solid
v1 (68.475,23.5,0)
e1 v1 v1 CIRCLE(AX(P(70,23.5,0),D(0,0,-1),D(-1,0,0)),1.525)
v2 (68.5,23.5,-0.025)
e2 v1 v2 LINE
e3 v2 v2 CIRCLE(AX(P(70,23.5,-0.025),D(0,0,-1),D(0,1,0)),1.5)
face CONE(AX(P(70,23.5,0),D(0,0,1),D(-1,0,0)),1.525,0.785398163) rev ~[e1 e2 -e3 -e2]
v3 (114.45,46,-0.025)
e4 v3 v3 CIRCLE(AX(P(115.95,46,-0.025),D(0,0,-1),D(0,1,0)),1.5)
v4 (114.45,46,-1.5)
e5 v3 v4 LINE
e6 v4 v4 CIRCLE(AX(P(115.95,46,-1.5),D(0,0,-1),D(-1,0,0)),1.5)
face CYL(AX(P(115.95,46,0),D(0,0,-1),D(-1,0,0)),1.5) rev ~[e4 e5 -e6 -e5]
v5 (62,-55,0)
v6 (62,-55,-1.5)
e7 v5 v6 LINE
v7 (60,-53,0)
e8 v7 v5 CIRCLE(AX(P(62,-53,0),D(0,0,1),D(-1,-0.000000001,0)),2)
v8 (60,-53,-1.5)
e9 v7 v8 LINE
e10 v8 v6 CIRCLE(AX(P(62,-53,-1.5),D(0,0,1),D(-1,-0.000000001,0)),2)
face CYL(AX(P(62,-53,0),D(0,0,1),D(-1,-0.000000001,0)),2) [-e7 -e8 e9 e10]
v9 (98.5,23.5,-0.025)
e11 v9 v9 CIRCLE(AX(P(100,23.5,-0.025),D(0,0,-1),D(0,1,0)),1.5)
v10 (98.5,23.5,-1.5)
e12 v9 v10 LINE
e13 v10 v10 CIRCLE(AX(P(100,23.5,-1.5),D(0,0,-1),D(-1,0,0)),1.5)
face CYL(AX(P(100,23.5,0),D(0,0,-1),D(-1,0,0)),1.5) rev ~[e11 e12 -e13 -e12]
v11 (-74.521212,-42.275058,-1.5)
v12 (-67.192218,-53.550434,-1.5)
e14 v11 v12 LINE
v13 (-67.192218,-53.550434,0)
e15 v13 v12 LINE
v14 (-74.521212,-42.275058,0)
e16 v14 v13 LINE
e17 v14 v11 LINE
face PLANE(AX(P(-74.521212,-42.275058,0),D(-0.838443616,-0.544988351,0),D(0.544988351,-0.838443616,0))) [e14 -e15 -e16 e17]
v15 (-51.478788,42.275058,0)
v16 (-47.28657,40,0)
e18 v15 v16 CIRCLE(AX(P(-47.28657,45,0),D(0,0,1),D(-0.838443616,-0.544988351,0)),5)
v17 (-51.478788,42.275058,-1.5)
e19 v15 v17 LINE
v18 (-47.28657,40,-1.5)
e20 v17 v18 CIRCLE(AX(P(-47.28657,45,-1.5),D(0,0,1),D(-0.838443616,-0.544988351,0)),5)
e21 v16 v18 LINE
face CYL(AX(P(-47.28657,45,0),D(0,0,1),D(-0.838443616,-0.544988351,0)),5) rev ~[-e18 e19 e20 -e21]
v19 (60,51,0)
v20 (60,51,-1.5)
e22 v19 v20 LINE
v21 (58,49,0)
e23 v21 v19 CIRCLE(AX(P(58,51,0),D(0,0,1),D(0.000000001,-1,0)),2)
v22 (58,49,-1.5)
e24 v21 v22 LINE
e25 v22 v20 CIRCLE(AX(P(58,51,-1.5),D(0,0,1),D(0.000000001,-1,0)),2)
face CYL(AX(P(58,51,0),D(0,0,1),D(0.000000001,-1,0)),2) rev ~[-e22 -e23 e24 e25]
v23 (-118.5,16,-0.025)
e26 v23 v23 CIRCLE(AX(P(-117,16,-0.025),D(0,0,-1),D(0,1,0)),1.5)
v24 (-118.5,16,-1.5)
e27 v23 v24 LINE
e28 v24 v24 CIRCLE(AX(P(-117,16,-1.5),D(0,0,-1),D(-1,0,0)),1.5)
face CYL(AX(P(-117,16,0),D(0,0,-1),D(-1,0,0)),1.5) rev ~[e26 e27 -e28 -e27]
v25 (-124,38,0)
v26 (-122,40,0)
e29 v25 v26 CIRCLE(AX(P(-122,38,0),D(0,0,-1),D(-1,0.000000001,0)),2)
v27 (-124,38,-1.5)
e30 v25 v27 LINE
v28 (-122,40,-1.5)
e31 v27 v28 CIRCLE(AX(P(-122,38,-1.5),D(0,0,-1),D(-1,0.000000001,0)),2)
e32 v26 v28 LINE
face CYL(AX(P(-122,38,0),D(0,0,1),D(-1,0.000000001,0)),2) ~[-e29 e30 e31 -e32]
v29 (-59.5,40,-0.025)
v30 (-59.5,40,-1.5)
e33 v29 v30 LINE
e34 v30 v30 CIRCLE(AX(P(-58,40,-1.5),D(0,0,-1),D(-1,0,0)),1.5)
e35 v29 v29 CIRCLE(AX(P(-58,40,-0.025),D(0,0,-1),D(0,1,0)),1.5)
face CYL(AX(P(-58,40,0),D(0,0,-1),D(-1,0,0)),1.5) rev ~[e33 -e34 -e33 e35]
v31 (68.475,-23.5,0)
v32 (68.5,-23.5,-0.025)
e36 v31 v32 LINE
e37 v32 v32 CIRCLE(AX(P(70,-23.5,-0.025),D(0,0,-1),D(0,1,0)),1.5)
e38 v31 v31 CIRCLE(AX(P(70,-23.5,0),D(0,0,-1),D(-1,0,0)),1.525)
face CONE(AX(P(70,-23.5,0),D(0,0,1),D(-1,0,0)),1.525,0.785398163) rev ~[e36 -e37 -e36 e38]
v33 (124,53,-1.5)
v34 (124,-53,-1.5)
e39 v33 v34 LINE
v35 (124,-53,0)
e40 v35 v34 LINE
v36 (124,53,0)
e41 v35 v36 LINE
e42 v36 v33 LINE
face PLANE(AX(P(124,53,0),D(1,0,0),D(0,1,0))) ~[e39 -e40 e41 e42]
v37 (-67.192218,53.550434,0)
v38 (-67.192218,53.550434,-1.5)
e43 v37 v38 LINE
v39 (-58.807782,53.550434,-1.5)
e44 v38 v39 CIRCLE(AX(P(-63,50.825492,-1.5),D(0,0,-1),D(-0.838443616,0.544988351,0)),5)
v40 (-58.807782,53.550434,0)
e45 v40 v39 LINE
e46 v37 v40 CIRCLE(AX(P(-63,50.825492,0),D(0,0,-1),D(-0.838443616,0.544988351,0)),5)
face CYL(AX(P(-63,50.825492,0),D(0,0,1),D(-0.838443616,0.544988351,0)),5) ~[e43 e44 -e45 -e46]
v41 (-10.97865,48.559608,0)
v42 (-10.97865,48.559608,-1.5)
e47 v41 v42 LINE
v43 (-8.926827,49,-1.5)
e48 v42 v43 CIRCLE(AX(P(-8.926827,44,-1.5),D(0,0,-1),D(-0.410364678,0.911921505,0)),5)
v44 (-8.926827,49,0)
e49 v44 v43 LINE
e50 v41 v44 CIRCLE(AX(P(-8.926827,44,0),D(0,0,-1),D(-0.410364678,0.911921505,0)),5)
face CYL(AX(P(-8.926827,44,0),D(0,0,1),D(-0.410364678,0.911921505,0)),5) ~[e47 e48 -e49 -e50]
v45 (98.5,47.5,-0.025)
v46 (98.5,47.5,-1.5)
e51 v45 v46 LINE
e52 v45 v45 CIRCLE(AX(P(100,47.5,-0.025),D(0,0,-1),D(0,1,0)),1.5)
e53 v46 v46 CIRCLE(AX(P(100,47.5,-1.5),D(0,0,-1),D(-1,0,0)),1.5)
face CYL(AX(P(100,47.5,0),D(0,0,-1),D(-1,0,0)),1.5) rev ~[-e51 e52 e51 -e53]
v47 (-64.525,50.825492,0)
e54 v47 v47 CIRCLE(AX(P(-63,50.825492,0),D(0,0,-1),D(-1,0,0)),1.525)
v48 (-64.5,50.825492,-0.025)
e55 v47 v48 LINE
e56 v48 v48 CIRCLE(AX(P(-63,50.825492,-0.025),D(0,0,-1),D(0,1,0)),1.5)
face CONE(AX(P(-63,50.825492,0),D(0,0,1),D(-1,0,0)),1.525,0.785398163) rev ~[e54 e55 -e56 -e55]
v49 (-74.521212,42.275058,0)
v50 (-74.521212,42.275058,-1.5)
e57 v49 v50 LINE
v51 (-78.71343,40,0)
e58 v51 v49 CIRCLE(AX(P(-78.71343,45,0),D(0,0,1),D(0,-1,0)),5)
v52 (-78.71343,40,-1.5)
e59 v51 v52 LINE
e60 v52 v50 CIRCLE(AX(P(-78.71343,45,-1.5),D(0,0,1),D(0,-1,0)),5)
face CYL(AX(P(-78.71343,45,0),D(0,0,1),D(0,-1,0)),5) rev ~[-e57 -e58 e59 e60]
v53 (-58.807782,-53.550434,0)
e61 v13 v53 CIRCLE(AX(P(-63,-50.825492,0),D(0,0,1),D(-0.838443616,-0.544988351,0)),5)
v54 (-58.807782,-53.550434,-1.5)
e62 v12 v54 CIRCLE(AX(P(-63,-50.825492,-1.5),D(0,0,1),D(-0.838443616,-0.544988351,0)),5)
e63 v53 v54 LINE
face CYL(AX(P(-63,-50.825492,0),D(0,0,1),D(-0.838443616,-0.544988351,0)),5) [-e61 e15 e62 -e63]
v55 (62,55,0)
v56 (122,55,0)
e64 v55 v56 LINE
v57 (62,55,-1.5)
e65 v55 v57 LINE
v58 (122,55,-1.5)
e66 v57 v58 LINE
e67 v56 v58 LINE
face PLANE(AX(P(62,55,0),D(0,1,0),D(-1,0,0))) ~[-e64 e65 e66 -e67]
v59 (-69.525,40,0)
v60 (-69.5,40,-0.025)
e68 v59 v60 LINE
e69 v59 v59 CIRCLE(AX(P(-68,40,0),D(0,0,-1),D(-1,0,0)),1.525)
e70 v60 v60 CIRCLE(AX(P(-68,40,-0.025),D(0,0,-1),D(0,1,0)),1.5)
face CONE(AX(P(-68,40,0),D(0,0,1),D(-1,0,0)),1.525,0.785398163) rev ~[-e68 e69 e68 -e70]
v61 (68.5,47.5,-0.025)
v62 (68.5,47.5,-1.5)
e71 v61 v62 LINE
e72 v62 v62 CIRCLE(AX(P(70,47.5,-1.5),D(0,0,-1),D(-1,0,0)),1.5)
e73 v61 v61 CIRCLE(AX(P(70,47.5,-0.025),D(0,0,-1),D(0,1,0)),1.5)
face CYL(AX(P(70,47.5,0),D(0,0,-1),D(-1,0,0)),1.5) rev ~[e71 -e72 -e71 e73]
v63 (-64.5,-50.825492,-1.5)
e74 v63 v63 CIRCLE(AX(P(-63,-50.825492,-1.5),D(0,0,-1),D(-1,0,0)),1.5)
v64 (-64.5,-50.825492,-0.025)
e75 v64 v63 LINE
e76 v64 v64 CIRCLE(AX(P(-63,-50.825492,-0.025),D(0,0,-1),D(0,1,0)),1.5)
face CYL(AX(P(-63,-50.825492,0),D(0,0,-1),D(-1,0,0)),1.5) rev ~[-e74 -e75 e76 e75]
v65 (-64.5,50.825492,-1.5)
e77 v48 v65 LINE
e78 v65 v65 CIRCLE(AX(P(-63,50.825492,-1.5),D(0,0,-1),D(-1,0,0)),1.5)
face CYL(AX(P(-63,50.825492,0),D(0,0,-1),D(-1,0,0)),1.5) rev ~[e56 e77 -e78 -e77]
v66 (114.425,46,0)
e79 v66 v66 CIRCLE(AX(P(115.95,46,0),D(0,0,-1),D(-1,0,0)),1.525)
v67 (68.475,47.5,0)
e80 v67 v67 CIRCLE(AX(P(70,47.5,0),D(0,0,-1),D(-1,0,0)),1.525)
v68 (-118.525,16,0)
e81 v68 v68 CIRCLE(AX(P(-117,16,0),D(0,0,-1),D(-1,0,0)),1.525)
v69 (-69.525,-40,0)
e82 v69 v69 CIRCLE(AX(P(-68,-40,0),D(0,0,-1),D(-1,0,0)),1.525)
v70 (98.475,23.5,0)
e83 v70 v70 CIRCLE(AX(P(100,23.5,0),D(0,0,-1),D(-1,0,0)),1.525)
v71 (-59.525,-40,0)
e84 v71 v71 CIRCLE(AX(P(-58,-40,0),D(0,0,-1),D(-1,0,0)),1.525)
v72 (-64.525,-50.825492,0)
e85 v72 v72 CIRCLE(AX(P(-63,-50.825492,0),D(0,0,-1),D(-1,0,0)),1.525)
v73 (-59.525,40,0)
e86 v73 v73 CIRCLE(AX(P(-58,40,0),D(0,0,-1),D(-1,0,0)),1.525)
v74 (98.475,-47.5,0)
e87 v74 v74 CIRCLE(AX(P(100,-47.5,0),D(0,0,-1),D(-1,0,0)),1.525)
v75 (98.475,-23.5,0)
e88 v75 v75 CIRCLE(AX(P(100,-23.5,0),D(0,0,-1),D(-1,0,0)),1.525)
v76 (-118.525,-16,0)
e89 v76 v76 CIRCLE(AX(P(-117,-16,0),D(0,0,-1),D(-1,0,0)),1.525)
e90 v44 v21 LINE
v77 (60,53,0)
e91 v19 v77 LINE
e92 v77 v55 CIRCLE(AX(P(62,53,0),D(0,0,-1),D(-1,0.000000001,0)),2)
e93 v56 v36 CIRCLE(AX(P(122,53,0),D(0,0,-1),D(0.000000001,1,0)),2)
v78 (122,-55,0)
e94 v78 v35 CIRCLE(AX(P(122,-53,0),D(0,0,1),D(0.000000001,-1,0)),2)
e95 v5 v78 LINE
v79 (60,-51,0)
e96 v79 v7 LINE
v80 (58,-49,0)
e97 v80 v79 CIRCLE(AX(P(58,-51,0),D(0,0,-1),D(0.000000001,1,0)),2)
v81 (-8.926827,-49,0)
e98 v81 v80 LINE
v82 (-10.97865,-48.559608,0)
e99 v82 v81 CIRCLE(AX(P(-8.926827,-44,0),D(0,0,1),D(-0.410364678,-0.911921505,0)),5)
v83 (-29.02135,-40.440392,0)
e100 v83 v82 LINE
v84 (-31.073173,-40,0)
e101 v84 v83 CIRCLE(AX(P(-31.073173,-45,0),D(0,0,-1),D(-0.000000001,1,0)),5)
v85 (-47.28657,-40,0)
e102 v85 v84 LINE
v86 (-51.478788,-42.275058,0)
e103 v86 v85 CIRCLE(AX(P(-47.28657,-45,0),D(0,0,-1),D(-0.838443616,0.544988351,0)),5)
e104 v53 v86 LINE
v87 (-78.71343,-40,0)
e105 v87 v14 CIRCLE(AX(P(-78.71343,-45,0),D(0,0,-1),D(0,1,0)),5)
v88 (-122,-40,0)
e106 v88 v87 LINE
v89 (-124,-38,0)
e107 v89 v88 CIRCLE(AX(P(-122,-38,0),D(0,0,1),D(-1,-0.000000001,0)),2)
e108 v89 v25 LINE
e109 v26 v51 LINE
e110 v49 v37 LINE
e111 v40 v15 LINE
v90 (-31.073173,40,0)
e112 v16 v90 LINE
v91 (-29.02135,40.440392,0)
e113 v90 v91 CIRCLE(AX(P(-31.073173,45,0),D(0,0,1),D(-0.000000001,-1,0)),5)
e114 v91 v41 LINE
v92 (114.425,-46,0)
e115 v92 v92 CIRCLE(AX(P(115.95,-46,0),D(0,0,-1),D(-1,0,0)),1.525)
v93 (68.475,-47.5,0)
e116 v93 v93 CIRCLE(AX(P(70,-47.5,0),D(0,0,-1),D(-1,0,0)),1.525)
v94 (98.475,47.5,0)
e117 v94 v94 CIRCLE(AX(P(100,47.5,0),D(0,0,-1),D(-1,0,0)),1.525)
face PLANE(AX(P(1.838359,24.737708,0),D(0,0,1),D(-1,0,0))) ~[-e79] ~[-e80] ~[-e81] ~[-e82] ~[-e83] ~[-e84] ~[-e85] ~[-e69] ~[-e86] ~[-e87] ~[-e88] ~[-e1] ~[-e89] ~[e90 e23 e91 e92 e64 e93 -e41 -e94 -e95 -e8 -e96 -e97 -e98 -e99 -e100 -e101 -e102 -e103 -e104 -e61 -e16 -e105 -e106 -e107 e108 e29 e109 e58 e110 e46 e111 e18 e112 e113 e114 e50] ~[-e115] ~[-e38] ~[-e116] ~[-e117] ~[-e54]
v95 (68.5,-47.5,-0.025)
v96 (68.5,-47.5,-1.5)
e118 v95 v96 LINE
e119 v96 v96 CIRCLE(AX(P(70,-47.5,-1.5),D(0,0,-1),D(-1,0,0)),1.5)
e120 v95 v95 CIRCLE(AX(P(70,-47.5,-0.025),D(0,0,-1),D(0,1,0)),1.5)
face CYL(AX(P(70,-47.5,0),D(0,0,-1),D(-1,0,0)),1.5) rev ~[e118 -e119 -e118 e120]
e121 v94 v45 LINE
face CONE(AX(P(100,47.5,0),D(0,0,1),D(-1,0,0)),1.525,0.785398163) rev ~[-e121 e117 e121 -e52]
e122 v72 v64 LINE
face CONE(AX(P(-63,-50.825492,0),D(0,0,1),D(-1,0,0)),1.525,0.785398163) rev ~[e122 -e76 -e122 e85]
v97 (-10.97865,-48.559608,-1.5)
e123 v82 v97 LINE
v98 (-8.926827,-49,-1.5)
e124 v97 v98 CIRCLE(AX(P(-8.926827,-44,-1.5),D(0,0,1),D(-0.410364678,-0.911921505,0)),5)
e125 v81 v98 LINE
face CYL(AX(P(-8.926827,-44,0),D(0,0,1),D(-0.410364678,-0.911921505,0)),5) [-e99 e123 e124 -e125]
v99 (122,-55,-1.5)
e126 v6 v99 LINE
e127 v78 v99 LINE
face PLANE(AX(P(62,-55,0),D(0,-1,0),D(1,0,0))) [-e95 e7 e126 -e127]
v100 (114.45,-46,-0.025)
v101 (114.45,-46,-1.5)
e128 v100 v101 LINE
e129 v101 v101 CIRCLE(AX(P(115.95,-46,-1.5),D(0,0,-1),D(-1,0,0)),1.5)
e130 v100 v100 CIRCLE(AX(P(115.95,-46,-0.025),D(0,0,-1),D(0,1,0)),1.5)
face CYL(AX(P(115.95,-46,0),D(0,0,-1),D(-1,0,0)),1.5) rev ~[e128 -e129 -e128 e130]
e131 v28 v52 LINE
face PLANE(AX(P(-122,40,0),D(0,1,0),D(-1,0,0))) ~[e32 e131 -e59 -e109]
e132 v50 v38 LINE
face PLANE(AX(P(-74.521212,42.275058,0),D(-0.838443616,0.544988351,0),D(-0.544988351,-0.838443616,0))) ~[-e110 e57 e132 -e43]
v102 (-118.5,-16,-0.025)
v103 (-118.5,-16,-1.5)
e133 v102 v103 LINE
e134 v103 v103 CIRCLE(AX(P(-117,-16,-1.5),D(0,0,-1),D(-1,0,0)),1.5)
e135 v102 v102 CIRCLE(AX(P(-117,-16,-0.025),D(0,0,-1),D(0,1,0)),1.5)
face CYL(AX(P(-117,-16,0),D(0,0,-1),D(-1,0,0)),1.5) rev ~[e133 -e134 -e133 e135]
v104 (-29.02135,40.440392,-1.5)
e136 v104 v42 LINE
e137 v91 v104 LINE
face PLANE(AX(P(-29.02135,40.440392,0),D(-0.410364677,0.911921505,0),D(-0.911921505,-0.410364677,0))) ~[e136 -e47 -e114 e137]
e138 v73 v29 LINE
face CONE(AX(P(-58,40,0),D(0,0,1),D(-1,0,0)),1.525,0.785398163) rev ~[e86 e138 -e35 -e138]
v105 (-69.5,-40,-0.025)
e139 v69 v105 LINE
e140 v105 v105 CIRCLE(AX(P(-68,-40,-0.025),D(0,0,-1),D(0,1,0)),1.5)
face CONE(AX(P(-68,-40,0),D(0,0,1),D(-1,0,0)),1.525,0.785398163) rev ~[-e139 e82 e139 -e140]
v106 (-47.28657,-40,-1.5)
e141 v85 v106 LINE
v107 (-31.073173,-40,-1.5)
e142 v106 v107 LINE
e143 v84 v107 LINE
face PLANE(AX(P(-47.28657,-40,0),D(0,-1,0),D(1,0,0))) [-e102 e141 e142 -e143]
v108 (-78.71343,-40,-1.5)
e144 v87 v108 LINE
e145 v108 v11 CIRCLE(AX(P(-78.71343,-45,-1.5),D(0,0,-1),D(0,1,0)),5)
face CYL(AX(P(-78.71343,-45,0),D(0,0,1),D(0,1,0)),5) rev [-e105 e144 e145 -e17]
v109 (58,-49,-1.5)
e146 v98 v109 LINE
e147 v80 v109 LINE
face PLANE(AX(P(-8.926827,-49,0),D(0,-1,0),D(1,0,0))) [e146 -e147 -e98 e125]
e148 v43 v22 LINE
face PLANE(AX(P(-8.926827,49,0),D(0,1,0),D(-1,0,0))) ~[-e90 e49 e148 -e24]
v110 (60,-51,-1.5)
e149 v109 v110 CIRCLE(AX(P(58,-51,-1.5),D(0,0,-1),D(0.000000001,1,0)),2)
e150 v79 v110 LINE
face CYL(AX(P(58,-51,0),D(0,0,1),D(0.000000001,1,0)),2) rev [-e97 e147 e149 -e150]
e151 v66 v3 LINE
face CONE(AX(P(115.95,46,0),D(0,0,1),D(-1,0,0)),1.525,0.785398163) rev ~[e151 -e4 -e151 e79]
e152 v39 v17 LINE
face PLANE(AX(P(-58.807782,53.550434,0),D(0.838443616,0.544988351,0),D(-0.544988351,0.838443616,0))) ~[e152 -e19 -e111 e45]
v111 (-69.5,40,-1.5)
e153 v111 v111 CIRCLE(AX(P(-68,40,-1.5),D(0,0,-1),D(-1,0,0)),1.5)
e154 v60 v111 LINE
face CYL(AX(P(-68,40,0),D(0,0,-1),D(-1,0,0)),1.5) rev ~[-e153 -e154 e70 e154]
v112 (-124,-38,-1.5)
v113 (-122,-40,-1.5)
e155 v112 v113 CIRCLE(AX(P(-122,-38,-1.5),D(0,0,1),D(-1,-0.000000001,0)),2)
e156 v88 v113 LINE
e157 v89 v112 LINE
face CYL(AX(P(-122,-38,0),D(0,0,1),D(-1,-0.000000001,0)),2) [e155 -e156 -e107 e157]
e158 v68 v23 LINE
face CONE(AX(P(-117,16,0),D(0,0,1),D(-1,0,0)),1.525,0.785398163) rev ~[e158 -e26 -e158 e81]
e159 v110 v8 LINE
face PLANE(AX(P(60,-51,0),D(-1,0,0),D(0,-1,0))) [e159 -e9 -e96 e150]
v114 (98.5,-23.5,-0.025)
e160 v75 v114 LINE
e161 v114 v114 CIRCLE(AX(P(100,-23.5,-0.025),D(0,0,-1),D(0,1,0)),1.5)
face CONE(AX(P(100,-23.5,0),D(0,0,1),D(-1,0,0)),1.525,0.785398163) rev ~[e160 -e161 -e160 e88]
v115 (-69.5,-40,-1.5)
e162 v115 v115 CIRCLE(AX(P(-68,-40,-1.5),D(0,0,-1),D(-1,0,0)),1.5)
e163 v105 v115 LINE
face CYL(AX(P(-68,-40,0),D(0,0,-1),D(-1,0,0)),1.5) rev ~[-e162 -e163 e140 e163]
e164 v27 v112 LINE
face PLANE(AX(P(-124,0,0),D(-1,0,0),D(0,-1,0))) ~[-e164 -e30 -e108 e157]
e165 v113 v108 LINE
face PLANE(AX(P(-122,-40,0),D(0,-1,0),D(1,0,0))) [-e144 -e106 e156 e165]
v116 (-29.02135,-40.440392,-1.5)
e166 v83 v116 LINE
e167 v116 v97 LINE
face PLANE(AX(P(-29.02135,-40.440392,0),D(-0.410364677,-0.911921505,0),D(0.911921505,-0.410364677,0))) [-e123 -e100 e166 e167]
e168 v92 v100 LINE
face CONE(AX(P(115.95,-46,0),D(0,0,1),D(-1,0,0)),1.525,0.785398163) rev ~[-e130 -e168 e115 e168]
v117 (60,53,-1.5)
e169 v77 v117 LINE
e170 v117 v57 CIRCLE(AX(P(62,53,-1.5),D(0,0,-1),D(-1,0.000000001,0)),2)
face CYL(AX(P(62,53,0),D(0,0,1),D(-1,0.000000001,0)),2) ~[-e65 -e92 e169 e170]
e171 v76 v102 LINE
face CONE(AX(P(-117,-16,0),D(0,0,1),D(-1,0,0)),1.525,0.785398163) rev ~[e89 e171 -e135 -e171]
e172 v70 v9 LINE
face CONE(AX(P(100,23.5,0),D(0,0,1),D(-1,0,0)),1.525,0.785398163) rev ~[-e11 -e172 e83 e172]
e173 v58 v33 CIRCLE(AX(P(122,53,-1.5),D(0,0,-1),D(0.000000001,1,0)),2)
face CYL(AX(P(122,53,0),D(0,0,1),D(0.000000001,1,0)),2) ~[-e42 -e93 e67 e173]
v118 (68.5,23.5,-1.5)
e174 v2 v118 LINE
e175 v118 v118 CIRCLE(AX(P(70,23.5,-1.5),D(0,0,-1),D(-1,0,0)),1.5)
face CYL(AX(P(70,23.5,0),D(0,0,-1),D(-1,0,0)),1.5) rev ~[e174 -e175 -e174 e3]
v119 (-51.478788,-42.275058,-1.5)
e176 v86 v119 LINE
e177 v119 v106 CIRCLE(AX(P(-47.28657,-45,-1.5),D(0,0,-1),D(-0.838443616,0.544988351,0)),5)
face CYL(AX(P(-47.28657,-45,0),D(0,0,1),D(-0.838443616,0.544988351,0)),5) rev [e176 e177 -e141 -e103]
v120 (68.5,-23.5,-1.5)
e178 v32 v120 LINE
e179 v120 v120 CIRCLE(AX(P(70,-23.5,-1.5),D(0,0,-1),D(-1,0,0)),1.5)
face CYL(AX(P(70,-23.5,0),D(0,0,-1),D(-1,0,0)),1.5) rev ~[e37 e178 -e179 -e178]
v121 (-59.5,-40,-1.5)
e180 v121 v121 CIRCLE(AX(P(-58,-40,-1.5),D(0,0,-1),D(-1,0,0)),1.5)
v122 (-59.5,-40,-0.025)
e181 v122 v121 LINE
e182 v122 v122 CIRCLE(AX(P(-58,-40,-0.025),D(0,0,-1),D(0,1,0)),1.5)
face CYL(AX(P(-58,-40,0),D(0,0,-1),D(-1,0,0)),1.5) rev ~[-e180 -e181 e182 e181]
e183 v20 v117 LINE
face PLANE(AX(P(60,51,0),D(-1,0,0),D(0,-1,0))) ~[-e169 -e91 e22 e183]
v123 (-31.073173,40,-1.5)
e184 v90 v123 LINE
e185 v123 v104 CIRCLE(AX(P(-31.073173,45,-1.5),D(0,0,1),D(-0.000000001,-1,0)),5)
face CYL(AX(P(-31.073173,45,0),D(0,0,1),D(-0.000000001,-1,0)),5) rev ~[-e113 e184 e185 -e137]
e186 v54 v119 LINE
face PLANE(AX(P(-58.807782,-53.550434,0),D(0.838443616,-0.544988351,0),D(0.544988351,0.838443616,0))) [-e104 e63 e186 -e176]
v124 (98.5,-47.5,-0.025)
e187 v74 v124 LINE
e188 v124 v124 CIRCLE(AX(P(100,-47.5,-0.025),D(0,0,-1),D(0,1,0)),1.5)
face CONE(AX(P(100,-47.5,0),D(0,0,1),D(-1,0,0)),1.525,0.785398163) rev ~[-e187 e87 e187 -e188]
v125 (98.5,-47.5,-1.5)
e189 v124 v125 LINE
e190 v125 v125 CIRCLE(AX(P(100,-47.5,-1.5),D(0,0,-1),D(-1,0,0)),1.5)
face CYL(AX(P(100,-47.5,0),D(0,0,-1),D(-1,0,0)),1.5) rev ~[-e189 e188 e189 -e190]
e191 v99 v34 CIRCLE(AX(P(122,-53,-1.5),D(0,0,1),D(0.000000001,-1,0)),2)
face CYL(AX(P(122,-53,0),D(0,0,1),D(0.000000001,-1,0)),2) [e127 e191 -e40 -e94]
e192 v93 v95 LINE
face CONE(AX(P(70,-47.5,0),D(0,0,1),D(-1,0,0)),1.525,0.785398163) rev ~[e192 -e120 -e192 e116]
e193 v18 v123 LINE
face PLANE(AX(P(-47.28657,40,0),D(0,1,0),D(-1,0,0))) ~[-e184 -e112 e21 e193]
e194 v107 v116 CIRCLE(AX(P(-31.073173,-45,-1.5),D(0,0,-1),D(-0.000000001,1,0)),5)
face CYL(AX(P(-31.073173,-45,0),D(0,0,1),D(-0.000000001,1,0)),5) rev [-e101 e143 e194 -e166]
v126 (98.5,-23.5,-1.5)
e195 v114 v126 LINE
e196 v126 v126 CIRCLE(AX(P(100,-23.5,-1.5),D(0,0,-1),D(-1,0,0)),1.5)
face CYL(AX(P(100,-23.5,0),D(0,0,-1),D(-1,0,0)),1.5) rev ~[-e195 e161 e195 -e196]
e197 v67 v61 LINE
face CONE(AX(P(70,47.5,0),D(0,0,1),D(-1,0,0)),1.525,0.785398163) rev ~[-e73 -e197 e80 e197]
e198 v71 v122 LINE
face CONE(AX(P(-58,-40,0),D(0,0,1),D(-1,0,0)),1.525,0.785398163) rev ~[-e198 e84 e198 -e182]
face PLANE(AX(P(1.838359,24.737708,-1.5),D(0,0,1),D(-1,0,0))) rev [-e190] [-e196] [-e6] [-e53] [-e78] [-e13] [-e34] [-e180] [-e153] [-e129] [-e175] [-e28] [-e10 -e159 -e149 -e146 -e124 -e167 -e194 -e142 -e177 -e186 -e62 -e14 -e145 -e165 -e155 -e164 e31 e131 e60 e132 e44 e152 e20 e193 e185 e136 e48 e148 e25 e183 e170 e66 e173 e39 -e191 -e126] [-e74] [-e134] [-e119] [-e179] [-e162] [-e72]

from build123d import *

# Parameters (mm, degrees)
BOSS_EXTRUDE2_DEPTH                = 1.5
F_3_0_3_DIAMETER_HOLE2_D           = 3
F_3_0_3_DIAMETER_HOLE2_DEPTH       = 4
F_3_0_3_DIAMETER_HOLE2_CSINK_D     = 3.05
F_3_0_3_DIAMETER_HOLE2_CSINK_ANGLE = 90
F_3_0_3_DIAMETER_HOLE2_TIP         = 0.901290929
F_3_0_3_DIAMETER_HOLE3_D           = 3
F_3_0_3_DIAMETER_HOLE3_DEPTH       = 4
F_3_0_3_DIAMETER_HOLE3_CSINK_D     = 3.05
F_3_0_3_DIAMETER_HOLE3_CSINK_ANGLE = 90
F_3_0_3_DIAMETER_HOLE3_TIP         = 0.901290929
F_3_0_3_DIAMETER_HOLE4_D           = 3
F_3_0_3_DIAMETER_HOLE4_DEPTH       = 4
F_3_0_3_DIAMETER_HOLE4_CSINK_D     = 3.05
F_3_0_3_DIAMETER_HOLE4_CSINK_ANGLE = 90
F_3_0_3_DIAMETER_HOLE4_TIP         = 0.901290929


with BuildPart() as part:
    # Sketch1 → Boss-Extrude2 (new body)
    with BuildSketch(Plane.XY):
        with BuildLine():
            Line((0, 0), (-124, 0))
            Line((-124, 0), (-124, -38))
            ThreePointArc((-124, -38), (-123.414213562, -39.414213562), (-122, -40))
            Line((-122, -40), (-78.713430221, -40))
            ThreePointArc((-78.713430221, -40), (-76.328551688, -40.60541761), (-74.521212139, -42.275058247))
            Line((-74.521212139, -42.275058247), (-67.192218082, -53.550433721))
            ThreePointArc((-67.192218082, -53.550433721), (-63, -55.825491968), (-58.807781918, -53.550433721))
            Line((-58.807781918, -53.550433721), (-51.478787861, -42.275058247))
            ThreePointArc((-51.478787861, -42.275058247), (-49.671448312, -40.60541761), (-47.286569779, -40))
            Line((-47.286569779, -40), (-31.073173444, -40))
            ThreePointArc((-31.073173444, -40), (-30.023896938, -40.111337727), (-29.021350058, -40.440392474))
            Line((-29.021350058, -40.440392474), (-10.978649942, -48.559607526))
            ThreePointArc((-10.978649942, -48.559607526), (-9.976103062, -48.888662273), (-8.926826556, -49))
            Line((-8.926826556, -49), (58, -49))
            ThreePointArc((58, -49), (59.414213562, -49.585786438), (60, -51))
            Line((60, -51), (60, -53))
            ThreePointArc((60, -53), (60.585786438, -54.414213562), (62, -55))
            Line((62, -55), (122, -55))
            ThreePointArc((122, -55), (123.414213562, -54.414213562), (124, -53))
            Line((124, -53), (124, 0))
            Line((124, 0), (0, 0))
        make_face()
    boss_extrude2 = extrude(amount=-BOSS_EXTRUDE2_DEPTH)

    # Mirror1: Boss-Extrude2 across plane
    add(boss_extrude2.mirror(Plane(origin=(0, 0, -1.5), x_dir=(0, 0, 1), z_dir=(0, 1, 0))))

    # Ø3.0 (3) Diameter Hole2
    with Locations(Plane.XY):
        with Locations((115.95, 46), (-117, 16), (115.95, -46), (-117, -16)):
            CounterSinkHole(F_3_0_3_DIAMETER_HOLE2_D / 2, F_3_0_3_DIAMETER_HOLE2_CSINK_D / 2, depth=F_3_0_3_DIAMETER_HOLE2_DEPTH, counter_sink_angle=F_3_0_3_DIAMETER_HOLE2_CSINK_ANGLE)
            with Locations((0, 0, -(F_3_0_3_DIAMETER_HOLE2_DEPTH + F_3_0_3_DIAMETER_HOLE2_TIP / 2))):  # 118° drill point
                Cone(0, F_3_0_3_DIAMETER_HOLE2_D / 2, F_3_0_3_DIAMETER_HOLE2_TIP, mode=Mode.SUBTRACT)

    # Ø3.0 (3) Diameter Hole3
    with Locations(Plane.XY):
        with Locations((-63, 50.825491968), (-68, 40), (-58, 40), (-58, -40), (-68, -40), (-63, -50.825491968)):
            CounterSinkHole(F_3_0_3_DIAMETER_HOLE3_D / 2, F_3_0_3_DIAMETER_HOLE3_CSINK_D / 2, depth=F_3_0_3_DIAMETER_HOLE3_DEPTH, counter_sink_angle=F_3_0_3_DIAMETER_HOLE3_CSINK_ANGLE)
            with Locations((0, 0, -(F_3_0_3_DIAMETER_HOLE3_DEPTH + F_3_0_3_DIAMETER_HOLE3_TIP / 2))):  # 118° drill point
                Cone(0, F_3_0_3_DIAMETER_HOLE3_D / 2, F_3_0_3_DIAMETER_HOLE3_TIP, mode=Mode.SUBTRACT)

    # Ø3.0 (3) Diameter Hole4
    with Locations(Plane.XY):
        with Locations((100, 47.5), (70, 47.5), (70, 23.5), (100, 23.5), (100, -47.5), (100, -23.5), (70, -23.5), (70, -47.5)):
            CounterSinkHole(F_3_0_3_DIAMETER_HOLE4_D / 2, F_3_0_3_DIAMETER_HOLE4_CSINK_D / 2, depth=F_3_0_3_DIAMETER_HOLE4_DEPTH, counter_sink_angle=F_3_0_3_DIAMETER_HOLE4_CSINK_ANGLE)
            with Locations((0, 0, -(F_3_0_3_DIAMETER_HOLE4_DEPTH + F_3_0_3_DIAMETER_HOLE4_TIP / 2))):  # 118° drill point
                Cone(0, F_3_0_3_DIAMETER_HOLE4_D / 2, F_3_0_3_DIAMETER_HOLE4_TIP, mode=Mode.SUBTRACT)


solid = part.part
